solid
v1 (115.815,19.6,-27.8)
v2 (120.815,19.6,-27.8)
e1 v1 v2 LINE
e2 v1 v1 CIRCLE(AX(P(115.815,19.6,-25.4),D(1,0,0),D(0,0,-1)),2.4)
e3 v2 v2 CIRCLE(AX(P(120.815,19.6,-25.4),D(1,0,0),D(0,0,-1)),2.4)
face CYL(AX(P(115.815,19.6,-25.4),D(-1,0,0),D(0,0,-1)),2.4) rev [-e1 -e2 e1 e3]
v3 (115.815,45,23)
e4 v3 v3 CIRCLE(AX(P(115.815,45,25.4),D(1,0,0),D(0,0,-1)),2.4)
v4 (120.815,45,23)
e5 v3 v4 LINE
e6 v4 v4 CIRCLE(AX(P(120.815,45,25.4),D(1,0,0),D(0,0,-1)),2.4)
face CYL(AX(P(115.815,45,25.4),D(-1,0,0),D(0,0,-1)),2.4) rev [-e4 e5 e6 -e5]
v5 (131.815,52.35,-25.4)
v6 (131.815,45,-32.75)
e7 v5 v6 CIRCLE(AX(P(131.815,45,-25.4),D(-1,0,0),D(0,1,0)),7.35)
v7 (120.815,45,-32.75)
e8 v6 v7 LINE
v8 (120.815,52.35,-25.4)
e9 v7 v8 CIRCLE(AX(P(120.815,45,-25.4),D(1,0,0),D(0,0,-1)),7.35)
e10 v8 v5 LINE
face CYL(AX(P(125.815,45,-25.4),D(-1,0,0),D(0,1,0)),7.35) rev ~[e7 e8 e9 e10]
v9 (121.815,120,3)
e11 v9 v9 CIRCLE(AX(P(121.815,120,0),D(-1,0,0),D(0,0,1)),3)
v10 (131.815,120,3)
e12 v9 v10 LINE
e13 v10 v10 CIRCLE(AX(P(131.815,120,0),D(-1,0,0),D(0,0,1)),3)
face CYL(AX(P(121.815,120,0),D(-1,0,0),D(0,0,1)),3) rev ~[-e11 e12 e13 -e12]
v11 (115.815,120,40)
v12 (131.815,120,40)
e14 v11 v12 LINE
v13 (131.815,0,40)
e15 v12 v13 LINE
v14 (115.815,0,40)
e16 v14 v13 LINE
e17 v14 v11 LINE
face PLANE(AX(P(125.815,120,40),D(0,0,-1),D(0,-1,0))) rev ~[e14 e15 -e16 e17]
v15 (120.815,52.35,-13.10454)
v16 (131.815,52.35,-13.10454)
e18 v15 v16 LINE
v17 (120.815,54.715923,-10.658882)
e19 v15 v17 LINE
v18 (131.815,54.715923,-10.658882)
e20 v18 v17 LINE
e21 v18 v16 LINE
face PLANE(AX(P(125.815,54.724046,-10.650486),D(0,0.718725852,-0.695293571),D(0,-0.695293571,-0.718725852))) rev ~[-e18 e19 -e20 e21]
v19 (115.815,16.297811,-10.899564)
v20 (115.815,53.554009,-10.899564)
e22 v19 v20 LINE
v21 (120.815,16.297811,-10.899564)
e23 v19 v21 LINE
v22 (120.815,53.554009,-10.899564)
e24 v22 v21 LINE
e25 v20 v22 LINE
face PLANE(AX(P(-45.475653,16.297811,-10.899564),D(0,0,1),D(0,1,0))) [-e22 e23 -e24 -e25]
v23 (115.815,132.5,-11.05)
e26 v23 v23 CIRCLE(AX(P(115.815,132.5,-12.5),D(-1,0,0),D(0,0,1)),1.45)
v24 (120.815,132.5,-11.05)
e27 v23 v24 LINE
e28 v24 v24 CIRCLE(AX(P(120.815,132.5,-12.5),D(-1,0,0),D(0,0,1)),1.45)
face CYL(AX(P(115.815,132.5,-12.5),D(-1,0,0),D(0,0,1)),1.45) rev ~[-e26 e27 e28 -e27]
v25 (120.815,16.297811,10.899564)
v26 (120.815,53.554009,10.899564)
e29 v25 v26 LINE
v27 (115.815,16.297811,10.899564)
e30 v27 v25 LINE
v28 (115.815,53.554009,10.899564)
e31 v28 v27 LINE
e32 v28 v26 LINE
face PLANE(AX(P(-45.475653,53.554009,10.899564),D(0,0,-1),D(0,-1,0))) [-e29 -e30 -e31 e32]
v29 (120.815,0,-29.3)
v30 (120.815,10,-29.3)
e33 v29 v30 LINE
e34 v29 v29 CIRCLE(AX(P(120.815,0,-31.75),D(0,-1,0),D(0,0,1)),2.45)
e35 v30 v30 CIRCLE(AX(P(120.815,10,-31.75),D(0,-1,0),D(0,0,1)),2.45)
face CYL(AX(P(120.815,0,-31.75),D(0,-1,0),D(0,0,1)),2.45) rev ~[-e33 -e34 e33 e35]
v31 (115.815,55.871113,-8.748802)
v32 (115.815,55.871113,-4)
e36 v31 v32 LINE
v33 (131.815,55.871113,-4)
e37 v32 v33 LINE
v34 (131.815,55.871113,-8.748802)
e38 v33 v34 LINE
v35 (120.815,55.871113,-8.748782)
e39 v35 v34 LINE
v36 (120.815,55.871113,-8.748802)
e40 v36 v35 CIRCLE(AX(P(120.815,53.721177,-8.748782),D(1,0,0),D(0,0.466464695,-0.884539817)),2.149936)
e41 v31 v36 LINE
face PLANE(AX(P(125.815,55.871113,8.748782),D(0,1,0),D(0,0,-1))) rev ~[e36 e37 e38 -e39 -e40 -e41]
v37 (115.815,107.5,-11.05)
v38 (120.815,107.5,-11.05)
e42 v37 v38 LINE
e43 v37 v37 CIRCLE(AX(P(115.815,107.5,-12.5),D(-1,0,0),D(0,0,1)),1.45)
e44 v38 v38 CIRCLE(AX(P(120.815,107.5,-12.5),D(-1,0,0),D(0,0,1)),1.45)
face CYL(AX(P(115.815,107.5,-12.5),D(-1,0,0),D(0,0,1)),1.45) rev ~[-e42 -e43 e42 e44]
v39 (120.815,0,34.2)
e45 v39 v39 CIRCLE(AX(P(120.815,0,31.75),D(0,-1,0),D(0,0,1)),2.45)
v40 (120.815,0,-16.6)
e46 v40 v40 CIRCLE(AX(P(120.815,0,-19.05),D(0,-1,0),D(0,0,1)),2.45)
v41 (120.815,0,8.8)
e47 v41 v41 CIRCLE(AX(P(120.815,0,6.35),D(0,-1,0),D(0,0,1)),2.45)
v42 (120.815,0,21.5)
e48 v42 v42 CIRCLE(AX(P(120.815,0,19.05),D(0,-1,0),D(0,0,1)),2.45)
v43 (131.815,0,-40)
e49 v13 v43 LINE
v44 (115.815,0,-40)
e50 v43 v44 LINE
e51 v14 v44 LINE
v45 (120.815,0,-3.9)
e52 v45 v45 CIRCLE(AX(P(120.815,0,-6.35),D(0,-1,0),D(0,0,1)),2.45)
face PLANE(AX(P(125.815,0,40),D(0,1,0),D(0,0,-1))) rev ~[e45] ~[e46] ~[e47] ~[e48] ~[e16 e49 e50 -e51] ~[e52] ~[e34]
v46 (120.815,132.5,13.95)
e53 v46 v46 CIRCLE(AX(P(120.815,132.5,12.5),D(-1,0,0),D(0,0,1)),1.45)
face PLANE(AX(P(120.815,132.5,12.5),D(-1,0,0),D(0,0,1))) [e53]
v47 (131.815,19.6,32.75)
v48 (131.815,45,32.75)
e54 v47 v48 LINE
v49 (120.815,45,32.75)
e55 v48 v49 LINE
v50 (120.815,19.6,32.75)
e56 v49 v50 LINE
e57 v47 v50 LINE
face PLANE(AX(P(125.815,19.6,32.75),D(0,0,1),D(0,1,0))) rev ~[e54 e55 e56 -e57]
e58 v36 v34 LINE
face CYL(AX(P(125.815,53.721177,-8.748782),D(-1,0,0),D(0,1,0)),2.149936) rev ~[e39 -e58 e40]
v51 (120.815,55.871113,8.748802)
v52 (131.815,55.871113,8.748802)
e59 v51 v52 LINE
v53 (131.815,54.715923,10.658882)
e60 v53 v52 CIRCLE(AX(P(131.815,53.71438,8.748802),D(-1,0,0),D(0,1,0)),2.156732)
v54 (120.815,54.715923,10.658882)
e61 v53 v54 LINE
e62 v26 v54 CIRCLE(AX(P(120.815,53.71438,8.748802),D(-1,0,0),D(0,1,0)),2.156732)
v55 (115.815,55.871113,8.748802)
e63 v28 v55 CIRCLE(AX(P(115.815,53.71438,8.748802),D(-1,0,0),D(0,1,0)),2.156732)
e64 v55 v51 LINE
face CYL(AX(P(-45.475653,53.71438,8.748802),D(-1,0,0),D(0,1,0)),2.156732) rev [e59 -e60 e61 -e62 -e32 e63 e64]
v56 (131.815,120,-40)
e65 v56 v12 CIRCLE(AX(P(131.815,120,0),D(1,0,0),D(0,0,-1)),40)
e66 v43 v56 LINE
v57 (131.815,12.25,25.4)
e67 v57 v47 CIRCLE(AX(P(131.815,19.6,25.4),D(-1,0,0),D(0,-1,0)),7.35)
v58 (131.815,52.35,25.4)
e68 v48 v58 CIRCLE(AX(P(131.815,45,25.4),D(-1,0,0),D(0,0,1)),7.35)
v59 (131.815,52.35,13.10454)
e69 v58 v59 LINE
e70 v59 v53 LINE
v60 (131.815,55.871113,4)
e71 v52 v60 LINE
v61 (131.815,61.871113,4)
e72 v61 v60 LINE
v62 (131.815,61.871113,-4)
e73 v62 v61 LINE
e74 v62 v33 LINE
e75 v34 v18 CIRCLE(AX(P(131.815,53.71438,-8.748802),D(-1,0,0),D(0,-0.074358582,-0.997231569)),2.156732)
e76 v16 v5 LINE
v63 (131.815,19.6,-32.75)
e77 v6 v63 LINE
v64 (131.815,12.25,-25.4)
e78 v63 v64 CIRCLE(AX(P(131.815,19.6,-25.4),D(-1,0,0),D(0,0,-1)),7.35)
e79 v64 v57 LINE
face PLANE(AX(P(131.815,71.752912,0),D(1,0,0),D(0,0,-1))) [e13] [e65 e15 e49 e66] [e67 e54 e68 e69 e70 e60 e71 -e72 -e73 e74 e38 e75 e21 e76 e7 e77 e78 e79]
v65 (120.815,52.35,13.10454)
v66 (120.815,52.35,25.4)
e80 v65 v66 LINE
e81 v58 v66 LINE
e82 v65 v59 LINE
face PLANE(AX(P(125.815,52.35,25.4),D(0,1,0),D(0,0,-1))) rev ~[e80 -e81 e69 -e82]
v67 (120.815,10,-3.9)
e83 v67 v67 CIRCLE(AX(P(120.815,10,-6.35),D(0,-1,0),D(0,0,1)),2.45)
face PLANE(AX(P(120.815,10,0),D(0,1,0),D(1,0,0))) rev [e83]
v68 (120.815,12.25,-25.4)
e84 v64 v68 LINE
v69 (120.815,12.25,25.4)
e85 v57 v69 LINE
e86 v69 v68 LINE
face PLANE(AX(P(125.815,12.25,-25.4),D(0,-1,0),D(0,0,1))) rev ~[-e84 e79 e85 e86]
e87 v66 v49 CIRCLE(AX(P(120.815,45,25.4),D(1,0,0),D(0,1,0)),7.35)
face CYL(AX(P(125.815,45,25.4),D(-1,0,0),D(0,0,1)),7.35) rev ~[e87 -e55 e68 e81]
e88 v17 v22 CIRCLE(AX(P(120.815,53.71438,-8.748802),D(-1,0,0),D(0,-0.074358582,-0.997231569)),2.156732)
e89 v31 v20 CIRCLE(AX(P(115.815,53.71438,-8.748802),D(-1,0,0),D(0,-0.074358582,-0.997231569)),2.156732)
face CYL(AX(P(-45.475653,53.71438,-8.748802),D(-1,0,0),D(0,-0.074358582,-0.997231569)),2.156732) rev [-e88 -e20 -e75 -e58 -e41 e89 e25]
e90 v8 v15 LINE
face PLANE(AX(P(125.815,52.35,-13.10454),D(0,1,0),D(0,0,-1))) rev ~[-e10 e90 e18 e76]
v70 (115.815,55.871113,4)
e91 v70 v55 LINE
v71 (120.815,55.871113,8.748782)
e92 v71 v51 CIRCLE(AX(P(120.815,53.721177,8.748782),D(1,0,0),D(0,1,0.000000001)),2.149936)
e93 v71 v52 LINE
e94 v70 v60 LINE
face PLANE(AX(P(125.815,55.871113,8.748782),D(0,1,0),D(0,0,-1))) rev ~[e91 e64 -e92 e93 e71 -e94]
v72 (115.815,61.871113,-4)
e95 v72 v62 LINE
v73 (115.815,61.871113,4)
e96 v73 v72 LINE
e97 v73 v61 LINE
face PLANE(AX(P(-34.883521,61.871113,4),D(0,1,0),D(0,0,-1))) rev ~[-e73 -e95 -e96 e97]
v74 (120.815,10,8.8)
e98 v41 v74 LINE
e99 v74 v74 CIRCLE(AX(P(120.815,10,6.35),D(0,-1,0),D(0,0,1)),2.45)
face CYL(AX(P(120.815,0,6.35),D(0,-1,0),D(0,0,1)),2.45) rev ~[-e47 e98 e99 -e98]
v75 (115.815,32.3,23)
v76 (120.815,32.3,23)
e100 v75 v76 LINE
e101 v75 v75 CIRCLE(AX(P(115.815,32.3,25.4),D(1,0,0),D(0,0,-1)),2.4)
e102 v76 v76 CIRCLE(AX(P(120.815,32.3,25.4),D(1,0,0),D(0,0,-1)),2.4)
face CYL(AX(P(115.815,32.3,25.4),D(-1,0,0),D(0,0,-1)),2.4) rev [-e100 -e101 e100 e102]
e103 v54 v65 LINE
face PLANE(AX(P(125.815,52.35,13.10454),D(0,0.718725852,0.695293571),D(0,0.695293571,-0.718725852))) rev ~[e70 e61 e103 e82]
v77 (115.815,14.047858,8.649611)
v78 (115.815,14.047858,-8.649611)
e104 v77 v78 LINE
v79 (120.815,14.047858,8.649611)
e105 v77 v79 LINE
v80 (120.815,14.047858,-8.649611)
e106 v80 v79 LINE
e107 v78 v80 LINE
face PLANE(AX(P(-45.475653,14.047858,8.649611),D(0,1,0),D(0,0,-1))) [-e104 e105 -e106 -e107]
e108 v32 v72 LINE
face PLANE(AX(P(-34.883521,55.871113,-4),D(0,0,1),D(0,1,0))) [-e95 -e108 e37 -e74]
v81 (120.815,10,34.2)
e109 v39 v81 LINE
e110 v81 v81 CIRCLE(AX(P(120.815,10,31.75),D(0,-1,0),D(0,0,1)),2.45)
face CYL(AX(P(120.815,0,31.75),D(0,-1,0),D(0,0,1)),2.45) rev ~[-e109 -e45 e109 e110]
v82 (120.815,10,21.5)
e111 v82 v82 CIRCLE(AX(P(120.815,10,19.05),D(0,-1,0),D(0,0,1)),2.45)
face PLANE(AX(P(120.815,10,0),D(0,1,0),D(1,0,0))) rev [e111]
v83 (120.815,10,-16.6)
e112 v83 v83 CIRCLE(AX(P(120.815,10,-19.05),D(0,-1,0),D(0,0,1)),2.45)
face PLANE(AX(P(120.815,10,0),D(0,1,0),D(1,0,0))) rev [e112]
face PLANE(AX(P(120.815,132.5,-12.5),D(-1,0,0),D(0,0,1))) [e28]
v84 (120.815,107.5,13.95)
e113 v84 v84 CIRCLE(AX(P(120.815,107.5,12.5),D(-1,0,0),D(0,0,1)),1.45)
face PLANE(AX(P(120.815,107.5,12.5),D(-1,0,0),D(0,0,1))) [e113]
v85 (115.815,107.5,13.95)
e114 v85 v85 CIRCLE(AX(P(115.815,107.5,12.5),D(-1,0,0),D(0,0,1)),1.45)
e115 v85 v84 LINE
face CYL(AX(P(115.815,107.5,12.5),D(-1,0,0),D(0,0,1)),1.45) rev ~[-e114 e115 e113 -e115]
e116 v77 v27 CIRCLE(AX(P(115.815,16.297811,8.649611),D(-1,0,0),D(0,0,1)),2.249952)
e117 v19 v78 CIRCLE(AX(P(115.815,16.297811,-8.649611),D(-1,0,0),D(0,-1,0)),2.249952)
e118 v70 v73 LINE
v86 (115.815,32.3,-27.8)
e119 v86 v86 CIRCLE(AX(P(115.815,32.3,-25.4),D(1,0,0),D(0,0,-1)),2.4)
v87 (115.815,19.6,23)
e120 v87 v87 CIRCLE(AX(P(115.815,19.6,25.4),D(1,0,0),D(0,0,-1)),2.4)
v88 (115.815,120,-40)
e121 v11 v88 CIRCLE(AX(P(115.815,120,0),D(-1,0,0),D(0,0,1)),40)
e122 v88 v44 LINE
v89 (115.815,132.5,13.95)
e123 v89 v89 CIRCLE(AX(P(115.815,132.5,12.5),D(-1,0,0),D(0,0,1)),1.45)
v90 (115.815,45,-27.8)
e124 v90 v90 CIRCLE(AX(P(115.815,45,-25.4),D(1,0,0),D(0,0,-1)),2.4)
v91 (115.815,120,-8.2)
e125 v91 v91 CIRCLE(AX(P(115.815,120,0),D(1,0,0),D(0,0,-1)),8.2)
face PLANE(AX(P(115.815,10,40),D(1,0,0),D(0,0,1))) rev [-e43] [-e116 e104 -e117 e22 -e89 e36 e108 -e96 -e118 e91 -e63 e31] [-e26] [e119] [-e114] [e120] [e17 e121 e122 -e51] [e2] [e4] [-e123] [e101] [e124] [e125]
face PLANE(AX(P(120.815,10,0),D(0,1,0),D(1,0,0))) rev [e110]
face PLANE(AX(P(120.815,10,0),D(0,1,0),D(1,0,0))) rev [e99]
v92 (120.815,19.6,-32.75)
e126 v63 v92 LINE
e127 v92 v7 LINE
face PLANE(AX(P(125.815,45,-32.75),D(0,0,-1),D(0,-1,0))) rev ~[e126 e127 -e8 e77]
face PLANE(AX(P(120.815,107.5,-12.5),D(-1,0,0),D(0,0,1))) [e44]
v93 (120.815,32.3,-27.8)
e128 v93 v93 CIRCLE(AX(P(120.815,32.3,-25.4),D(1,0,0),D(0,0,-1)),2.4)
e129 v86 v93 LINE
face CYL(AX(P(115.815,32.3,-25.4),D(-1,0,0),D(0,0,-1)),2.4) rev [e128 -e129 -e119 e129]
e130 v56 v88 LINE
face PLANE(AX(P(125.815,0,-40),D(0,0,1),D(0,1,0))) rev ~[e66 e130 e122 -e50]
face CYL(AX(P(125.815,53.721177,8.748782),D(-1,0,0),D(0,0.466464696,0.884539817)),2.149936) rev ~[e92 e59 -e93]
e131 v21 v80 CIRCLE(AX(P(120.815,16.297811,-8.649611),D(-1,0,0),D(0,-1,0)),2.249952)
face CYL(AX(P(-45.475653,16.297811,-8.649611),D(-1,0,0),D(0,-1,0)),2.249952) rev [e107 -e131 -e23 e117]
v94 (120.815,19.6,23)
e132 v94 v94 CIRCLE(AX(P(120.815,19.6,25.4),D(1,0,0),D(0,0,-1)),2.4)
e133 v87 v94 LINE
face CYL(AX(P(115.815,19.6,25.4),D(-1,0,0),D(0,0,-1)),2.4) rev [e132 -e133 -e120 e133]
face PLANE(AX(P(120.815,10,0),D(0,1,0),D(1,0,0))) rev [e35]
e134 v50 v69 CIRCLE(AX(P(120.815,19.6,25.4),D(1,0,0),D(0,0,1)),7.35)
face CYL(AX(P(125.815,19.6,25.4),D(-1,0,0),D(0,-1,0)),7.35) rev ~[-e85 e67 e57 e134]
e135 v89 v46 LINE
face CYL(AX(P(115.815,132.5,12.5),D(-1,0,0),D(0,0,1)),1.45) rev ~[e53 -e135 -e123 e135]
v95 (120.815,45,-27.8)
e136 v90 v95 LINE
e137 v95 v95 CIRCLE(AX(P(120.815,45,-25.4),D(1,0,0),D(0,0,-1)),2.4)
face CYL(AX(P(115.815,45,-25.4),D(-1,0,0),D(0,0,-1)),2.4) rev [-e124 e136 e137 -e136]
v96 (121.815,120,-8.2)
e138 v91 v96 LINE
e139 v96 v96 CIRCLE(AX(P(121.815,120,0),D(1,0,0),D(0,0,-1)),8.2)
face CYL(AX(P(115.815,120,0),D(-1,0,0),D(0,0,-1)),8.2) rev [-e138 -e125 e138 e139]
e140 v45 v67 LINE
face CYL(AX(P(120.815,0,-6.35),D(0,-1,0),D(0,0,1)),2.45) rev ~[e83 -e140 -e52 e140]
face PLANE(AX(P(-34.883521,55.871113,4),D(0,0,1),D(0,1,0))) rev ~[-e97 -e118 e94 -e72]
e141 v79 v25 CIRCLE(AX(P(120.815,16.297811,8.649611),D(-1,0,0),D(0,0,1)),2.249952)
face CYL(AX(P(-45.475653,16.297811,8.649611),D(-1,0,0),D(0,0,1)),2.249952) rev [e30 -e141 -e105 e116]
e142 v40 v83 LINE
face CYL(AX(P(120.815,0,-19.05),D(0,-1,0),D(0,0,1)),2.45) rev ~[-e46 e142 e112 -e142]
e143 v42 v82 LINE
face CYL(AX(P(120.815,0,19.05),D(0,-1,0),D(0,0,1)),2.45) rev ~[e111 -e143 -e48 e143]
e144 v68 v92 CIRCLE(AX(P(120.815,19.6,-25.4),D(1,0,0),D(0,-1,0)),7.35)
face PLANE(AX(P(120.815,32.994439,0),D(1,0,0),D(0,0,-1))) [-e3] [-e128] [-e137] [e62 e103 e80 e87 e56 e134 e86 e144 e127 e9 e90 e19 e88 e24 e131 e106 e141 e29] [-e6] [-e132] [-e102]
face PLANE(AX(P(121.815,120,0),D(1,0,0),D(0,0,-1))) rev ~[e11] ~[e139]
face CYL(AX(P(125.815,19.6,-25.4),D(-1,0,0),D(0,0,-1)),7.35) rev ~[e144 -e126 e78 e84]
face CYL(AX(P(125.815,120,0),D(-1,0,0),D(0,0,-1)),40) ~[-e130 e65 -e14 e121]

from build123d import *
from build123d.topology import SkipClean

# Parameters (mm, degrees)
SKETCH1_W                = 10
SKETCH1_H                = 80
SKETCH1_R                = 2.45
BOSS_EXTRUDE1_DEPTH      = 10
SKETCH2_W                = 10
SKETCH2_H                = 80
BOSS_EXTRUDE2_DEPTH      = 150
CUT_EXTRUDE1_DEPTH       = 166.227116419
SKETCH4_R                = 1.5
CUT_EXTRUDE2_DEPTH       = 301.861524459
SKETCH7_R                = 3.15
CUT_EXTRUDE5_DEPTH       = 10
SKETCH11_R               = 8.15
CUT_EXTRUDE7_DEPTH       = 5.2
SKETCH13_R               = 1.45
CUT_EXTRUDE8_DEPTH       = 5
CUT_EXTRUDE9_DEPTH       = 5
CUT_EXTRUDE10_DEPTH      = 5
CUT_EXTRUDE11_START      = -10
SKETCH16_R               = 2.4
CUT_EXTRUDE11_DEPTH      = 5
SKETCH17_R               = 1.5
BOSS_EXTRUDE4_DEPTH      = 6
SKETCH18_R               = 8.2
CUT_EXTRUDE12_DEPTH      = 6
SKETCH19_R               = 3
CUT_EXTRUDE13_DEPTH      = 10
SKETCH20_W               = 359.593382494
SKETCH20_H               = 674.632515804
CUT_EXTRUDE14_DEPTH      = 212.128383277
SKETCH22_R               = 1.45
CUT_EXTRUDE16_DEPTH      = 5
CUT_EXTRUDE17_DEPTH      = 166.290653093
CUT_EXTRUDE17_DEPTH_BACK = 166.290653093
CUT_EXTRUDE18_DEPTH      = 166.698521418
CUT_EXTRUDE18_DEPTH_BACK = 166.698521418
SKETCH24_W               = 8
SKETCH24_H               = 6


with BuildPart() as part:
    # Sketch1 → Boss-Extrude1 (new body)
    with BuildSketch(Plane(origin=(0, 0, 0), x_dir=(1, 0, 0), z_dir=(0, 1, 0))):
        with Locations((-120.815, 0)):
            Rectangle(SKETCH1_W, SKETCH1_H)
        with Locations(Location((-120.815, -31.75, 0), (0, 0, 270))):
            Circle(SKETCH1_R, mode=Mode.SUBTRACT)
        with Locations(Location((-120.815, -19.05, 0), (0, 0, 270))):
            Circle(SKETCH1_R, mode=Mode.SUBTRACT)
        with Locations(Location((-120.815, -6.35, 0), (0, 0, 270))):
            Circle(SKETCH1_R, mode=Mode.SUBTRACT)
        with Locations(Location((-120.815, 6.35, 0), (0, 0, 270))):
            Circle(SKETCH1_R, mode=Mode.SUBTRACT)
        with Locations(Location((-120.815, 19.05, 0), (0, 0, 270))):
            Circle(SKETCH1_R, mode=Mode.SUBTRACT)
        with Locations(Location((-120.815, 31.75, 0), (0, 0, 270))):
            Circle(SKETCH1_R, mode=Mode.SUBTRACT)
    extrude(amount=BOSS_EXTRUDE1_DEPTH)

    # Sketch2 → Boss-Extrude2 (add)
    with BuildSketch(Plane(origin=(0, 10, 0), x_dir=(1, 0, 0), z_dir=(0, 1, 0))):
        with Locations((-120.815, 0)):
            Rectangle(SKETCH2_W, SKETCH2_H)
    extrude(amount=BOSS_EXTRUDE2_DEPTH)

    # Sketch3 → Cut-Extrude1 (cut, through all)
    with BuildSketch(Plane.ZY.offset(125.815)):
        with BuildLine():
            Line((-40, 120), (-60, 120))
            Line((-60, 120), (-60, 170))
            Line((-60, 170), (60, 170))
            Line((60, 170), (60, 120))
            Line((60, 120), (40, 120))
            ThreePointArc((40, 120), (0, 160), (-40, 120))
        make_face()
    extrude(amount=-CUT_EXTRUDE1_DEPTH, mode=Mode.SUBTRACT)


with BuildPart() as body_2:
    # Mirror1: mirrored copy
    add(part.part.mirror(Plane(origin=(0, 0, 0), x_dir=(0, 0, 1), z_dir=(1, 0, 0))))


with BuildPart() as cut_extrude2_tool:
    # Sketch4 → Cut-Extrude2 (new, through all)
    with BuildSketch(Plane.ZY.offset(125.815)):
        with Locations((0, 120)):
            Circle(SKETCH4_R)
    extrude(amount=-CUT_EXTRUDE2_DEPTH)


with BuildPart() as part_1:
    add(part.part)

    # Cut-Extrude2: cut by cut_extrude2_tool
    add(cut_extrude2_tool.part, mode=Mode.SUBTRACT)

    # Sketch7 → Cut-Extrude5 (cut)
    with BuildSketch(Plane.ZY.offset(125.815)):
        with Locations((0, 120)):
            Circle(SKETCH7_R)
    extrude(amount=-CUT_EXTRUDE5_DEPTH, mode=Mode.SUBTRACT)

    # Sketch11 → Cut-Extrude7 (cut)
    with BuildSketch(Plane.ZY.offset(125.815)):
        with Locations((0, 120)):
            Circle(SKETCH11_R)
    extrude(amount=-CUT_EXTRUDE7_DEPTH, mode=Mode.SUBTRACT)

    # Sketch13 → Cut-Extrude8 (cut)
    with BuildSketch(Plane.ZY.offset(125.815)):
        with Locations((-12.5, 132.5)):
            Circle(SKETCH13_R)
        with Locations((12.5, 132.5)):
            Circle(SKETCH13_R)
        with Locations((12.5, 107.5)):
            Circle(SKETCH13_R)
        with Locations((-12.5, 107.5)):
            Circle(SKETCH13_R)
    extrude(amount=-CUT_EXTRUDE8_DEPTH, mode=Mode.SUBTRACT)

    # Sketch20 → Cut-Extrude14 (cut, through all)
    with BuildSketch(Plane(origin=(0, 0, 0), x_dir=(0, 0, -1), z_dir=(1, 0, 0))):
        Rectangle(SKETCH20_W, SKETCH20_H)
    extrude(amount=-CUT_EXTRUDE14_DEPTH, mode=Mode.SUBTRACT)


with BuildPart() as body_2_1:
    add(body_2.part)

    # Cut-Extrude2: cut by cut_extrude2_tool
    add(cut_extrude2_tool.part, mode=Mode.SUBTRACT)

    # Sketch14 → Cut-Extrude9 (cut)
    with BuildSketch(Plane(origin=(125.815, 0, 0), x_dir=(0, 0, -1), z_dir=(1, 0, 0))):
        with BuildLine():
            Line((25.4, 52.35), (13.104540125, 52.35))
            Line((13.104540125, 52.35), (10.650485711, 54.724046033))
            ThreePointArc((10.650485711, 54.724046033), (9.859214258, 55.56214504), (8.748782119, 55.871112549))
            Line((8.748782119, 55.871112549), (-8.748782119, 55.871112549))
            ThreePointArc((-8.748782119, 55.871112549), (-9.859214258, 55.56214504), (-10.650485712, 54.724046033))
            Line((-10.650485712, 54.724046033), (-13.104540125, 52.35))
            Line((-13.104540125, 52.35), (-25.4, 52.35))
            ThreePointArc((-25.4, 52.35), (-30.597234842, 50.197234842), (-32.75, 45))
            Line((-32.75, 45), (-32.75, 19.6))
            ThreePointArc((-32.75, 19.6), (-30.597234842, 14.402765158), (-25.4, 12.25))
            Line((-25.4, 12.25), (25.4, 12.25))
            ThreePointArc((25.4, 12.25), (30.597234842, 14.402765158), (32.75, 19.6))
            Line((32.75, 19.6), (32.75, 45))
            ThreePointArc((32.75, 45), (30.597234842, 50.197234842), (25.4, 52.35))
        make_face()
    extrude(amount=-CUT_EXTRUDE9_DEPTH, mode=Mode.SUBTRACT)

    # Sketch15 → Cut-Extrude10 (cut)
    with BuildSketch(Plane.ZY.offset(-115.815)):
        with BuildLine():
            Line((-9.899563657, 53.597002723), (-9.899563657, 16.29781068))
            ThreePointArc((-9.899563657, 16.29781068), (-9.533461074, 15.41396086), (-8.649611253, 15.047858277))
            Line((-8.649611253, 15.047858277), (8.649611253, 15.047858277))
            ThreePointArc((8.649611253, 15.047858277), (9.533461074, 15.41396086), (9.899563657, 16.29781068))
            Line((9.899563657, 16.29781068), (9.899563657, 53.597002723))
            ThreePointArc((9.899563657, 53.597002723), (9.607232135, 54.489704444), (8.748802207, 54.871112548))
            Line((8.748802207, 54.871112548), (-8.748802207, 54.871112548))
            ThreePointArc((-8.748802207, 54.871112548), (-9.607232135, 54.489704444), (-9.899563657, 53.597002723))
        make_face()
    extrude(amount=-CUT_EXTRUDE10_DEPTH, mode=Mode.SUBTRACT)

    # Sketch16 → Cut-Extrude11 (cut)
    with BuildSketch(Plane(origin=(125.815, 0, 0), x_dir=(0, 0, -1), z_dir=(1, 0, 0)).offset(CUT_EXTRUDE11_START)):
        with Locations((-25.4, 45)):
            Circle(SKETCH16_R)
        with Locations((-25.4, 32.3)):
            Circle(SKETCH16_R)
        with Locations((-25.4, 19.6)):
            Circle(SKETCH16_R)
        with Locations((25.4, 19.6)):
            Circle(SKETCH16_R)
        with Locations((25.4, 32.3)):
            Circle(SKETCH16_R)
        with Locations((25.4, 45)):
            Circle(SKETCH16_R)
    extrude(amount=CUT_EXTRUDE11_DEPTH, mode=Mode.SUBTRACT)

    # Sketch17 → Boss-Extrude4 (add)
    with SkipClean():  # the faces are left unmerged after this step: merging them gives an invalid solid
        with BuildSketch(Plane(origin=(125.815, 0, 0), x_dir=(0, 0, -1), z_dir=(1, 0, 0))):
            with BuildLine():
                ThreePointArc((40, 120), (0, 160), (-40, 120))
                Line((-40, 120), (-40, 0))
                Line((-40, 0), (40, 0))
                Line((40, 0), (40, 120))
            make_face()
            with BuildLine():
                Line((-13.104540125, 52.35), (-10.650485712, 54.724046033))
                ThreePointArc((-10.650485712, 54.724046033), (-9.859214258, 55.56214504), (-8.748782119, 55.871112549))
                Line((-8.748782119, 55.871112549), (8.748782119, 55.871112549))
                ThreePointArc((8.748782119, 55.871112549), (9.859214258, 55.56214504), (10.650485711, 54.724046033))
                Line((10.650485711, 54.724046033), (13.104540125, 52.35))
                Line((13.104540125, 52.35), (25.4, 52.35))
                ThreePointArc((25.4, 52.35), (30.597234842, 50.197234842), (32.75, 45))
                Line((32.75, 45), (32.75, 19.6))
                ThreePointArc((32.75, 19.6), (30.597234842, 14.402765158), (25.4, 12.25))
                Line((25.4, 12.25), (-25.4, 12.25))
                ThreePointArc((-25.4, 12.25), (-30.597234842, 14.402765158), (-32.75, 19.6))
                Line((-32.75, 19.6), (-32.75, 45))
                ThreePointArc((-32.75, 45), (-30.597234842, 50.197234842), (-25.4, 52.35))
                Line((-25.4, 52.35), (-13.104540125, 52.35))
            make_face(mode=Mode.SUBTRACT)
            with Locations((0, 120)):
                Circle(SKETCH17_R, mode=Mode.SUBTRACT)
        extrude(amount=BOSS_EXTRUDE4_DEPTH)

    # Sketch18 → Cut-Extrude12 (cut)
    with SkipClean():  # the faces are left unmerged after this step: merging them gives an invalid solid
        with BuildSketch(Plane(origin=(115.815, 0, 0), x_dir=(0, 0, -1), z_dir=(1, 0, 0))):
            with Locations((0, 120)):
                Circle(SKETCH18_R)
        extrude(amount=CUT_EXTRUDE12_DEPTH, mode=Mode.SUBTRACT)

    # Sketch19 → Cut-Extrude13 (cut)
    with BuildSketch(Plane.ZY.offset(-121.815)):
        with Locations((0, 120)):
            Circle(SKETCH19_R)
    extrude(amount=-CUT_EXTRUDE13_DEPTH, mode=Mode.SUBTRACT)

    # Sketch22 → Cut-Extrude16 (cut)
    with BuildSketch(Plane.ZY.offset(-115.815)):
        with Locations((-12.5, 107.5)):
            Circle(SKETCH22_R)
        with Locations((12.5, 107.5)):
            Circle(SKETCH22_R)
        with Locations((12.5, 132.5)):
            Circle(SKETCH22_R)
        with Locations((-12.5, 132.5)):
            Circle(SKETCH22_R)
    extrude(amount=-CUT_EXTRUDE16_DEPTH, mode=Mode.SUBTRACT)

    # Sketch23 → Cut-Extrude17 (cut, two sides: drawn at the far end of the back side and taken through both)
    with BuildSketch(Plane(origin=(120.815, 0, 0), x_dir=(0, 0, -1), z_dir=(1, 0, 0)).offset(-CUT_EXTRUDE17_DEPTH_BACK)):
        with BuildLine():
            Line((-8.649611253, 14.047858277), (8.649611253, 14.047858277))
            ThreePointArc((8.649611253, 14.047858277), (10.240567855, 14.706854078), (10.899563657, 16.29781068))
            Line((10.899563657, 16.29781068), (10.899563657, 53.554008783))
            ThreePointArc((10.899563657, 53.554008783), (10.329525513, 55.181625261), (8.748802207, 55.871112548))
            Line((8.748802207, 55.871112548), (-8.748802207, 55.871112548))
            ThreePointArc((-8.748802207, 55.871112548), (-10.329525513, 55.181625261), (-10.899563657, 53.554008783))
            Line((-10.899563657, 53.554008783), (-10.899563657, 16.29781068))
            ThreePointArc((-10.899563657, 16.29781068), (-10.240567855, 14.706854078), (-8.649611253, 14.047858277))
        make_face()
    extrude(amount=CUT_EXTRUDE17_DEPTH + CUT_EXTRUDE17_DEPTH_BACK, mode=Mode.SUBTRACT)

    # Sketch24 → Cut-Extrude18 (cut, two sides: drawn at the far end of the back side and taken through both)
    with BuildSketch(Plane(origin=(131.815, 0, 0), x_dir=(0, 0, -1), z_dir=(1, 0, 0)).offset(-CUT_EXTRUDE18_DEPTH_BACK)):
        with Locations((0, 58.871112549)):
            Rectangle(SKETCH24_W, SKETCH24_H)
    extrude(amount=CUT_EXTRUDE18_DEPTH + CUT_EXTRUDE18_DEPTH_BACK, mode=Mode.SUBTRACT)


solid = body_2_1.part
